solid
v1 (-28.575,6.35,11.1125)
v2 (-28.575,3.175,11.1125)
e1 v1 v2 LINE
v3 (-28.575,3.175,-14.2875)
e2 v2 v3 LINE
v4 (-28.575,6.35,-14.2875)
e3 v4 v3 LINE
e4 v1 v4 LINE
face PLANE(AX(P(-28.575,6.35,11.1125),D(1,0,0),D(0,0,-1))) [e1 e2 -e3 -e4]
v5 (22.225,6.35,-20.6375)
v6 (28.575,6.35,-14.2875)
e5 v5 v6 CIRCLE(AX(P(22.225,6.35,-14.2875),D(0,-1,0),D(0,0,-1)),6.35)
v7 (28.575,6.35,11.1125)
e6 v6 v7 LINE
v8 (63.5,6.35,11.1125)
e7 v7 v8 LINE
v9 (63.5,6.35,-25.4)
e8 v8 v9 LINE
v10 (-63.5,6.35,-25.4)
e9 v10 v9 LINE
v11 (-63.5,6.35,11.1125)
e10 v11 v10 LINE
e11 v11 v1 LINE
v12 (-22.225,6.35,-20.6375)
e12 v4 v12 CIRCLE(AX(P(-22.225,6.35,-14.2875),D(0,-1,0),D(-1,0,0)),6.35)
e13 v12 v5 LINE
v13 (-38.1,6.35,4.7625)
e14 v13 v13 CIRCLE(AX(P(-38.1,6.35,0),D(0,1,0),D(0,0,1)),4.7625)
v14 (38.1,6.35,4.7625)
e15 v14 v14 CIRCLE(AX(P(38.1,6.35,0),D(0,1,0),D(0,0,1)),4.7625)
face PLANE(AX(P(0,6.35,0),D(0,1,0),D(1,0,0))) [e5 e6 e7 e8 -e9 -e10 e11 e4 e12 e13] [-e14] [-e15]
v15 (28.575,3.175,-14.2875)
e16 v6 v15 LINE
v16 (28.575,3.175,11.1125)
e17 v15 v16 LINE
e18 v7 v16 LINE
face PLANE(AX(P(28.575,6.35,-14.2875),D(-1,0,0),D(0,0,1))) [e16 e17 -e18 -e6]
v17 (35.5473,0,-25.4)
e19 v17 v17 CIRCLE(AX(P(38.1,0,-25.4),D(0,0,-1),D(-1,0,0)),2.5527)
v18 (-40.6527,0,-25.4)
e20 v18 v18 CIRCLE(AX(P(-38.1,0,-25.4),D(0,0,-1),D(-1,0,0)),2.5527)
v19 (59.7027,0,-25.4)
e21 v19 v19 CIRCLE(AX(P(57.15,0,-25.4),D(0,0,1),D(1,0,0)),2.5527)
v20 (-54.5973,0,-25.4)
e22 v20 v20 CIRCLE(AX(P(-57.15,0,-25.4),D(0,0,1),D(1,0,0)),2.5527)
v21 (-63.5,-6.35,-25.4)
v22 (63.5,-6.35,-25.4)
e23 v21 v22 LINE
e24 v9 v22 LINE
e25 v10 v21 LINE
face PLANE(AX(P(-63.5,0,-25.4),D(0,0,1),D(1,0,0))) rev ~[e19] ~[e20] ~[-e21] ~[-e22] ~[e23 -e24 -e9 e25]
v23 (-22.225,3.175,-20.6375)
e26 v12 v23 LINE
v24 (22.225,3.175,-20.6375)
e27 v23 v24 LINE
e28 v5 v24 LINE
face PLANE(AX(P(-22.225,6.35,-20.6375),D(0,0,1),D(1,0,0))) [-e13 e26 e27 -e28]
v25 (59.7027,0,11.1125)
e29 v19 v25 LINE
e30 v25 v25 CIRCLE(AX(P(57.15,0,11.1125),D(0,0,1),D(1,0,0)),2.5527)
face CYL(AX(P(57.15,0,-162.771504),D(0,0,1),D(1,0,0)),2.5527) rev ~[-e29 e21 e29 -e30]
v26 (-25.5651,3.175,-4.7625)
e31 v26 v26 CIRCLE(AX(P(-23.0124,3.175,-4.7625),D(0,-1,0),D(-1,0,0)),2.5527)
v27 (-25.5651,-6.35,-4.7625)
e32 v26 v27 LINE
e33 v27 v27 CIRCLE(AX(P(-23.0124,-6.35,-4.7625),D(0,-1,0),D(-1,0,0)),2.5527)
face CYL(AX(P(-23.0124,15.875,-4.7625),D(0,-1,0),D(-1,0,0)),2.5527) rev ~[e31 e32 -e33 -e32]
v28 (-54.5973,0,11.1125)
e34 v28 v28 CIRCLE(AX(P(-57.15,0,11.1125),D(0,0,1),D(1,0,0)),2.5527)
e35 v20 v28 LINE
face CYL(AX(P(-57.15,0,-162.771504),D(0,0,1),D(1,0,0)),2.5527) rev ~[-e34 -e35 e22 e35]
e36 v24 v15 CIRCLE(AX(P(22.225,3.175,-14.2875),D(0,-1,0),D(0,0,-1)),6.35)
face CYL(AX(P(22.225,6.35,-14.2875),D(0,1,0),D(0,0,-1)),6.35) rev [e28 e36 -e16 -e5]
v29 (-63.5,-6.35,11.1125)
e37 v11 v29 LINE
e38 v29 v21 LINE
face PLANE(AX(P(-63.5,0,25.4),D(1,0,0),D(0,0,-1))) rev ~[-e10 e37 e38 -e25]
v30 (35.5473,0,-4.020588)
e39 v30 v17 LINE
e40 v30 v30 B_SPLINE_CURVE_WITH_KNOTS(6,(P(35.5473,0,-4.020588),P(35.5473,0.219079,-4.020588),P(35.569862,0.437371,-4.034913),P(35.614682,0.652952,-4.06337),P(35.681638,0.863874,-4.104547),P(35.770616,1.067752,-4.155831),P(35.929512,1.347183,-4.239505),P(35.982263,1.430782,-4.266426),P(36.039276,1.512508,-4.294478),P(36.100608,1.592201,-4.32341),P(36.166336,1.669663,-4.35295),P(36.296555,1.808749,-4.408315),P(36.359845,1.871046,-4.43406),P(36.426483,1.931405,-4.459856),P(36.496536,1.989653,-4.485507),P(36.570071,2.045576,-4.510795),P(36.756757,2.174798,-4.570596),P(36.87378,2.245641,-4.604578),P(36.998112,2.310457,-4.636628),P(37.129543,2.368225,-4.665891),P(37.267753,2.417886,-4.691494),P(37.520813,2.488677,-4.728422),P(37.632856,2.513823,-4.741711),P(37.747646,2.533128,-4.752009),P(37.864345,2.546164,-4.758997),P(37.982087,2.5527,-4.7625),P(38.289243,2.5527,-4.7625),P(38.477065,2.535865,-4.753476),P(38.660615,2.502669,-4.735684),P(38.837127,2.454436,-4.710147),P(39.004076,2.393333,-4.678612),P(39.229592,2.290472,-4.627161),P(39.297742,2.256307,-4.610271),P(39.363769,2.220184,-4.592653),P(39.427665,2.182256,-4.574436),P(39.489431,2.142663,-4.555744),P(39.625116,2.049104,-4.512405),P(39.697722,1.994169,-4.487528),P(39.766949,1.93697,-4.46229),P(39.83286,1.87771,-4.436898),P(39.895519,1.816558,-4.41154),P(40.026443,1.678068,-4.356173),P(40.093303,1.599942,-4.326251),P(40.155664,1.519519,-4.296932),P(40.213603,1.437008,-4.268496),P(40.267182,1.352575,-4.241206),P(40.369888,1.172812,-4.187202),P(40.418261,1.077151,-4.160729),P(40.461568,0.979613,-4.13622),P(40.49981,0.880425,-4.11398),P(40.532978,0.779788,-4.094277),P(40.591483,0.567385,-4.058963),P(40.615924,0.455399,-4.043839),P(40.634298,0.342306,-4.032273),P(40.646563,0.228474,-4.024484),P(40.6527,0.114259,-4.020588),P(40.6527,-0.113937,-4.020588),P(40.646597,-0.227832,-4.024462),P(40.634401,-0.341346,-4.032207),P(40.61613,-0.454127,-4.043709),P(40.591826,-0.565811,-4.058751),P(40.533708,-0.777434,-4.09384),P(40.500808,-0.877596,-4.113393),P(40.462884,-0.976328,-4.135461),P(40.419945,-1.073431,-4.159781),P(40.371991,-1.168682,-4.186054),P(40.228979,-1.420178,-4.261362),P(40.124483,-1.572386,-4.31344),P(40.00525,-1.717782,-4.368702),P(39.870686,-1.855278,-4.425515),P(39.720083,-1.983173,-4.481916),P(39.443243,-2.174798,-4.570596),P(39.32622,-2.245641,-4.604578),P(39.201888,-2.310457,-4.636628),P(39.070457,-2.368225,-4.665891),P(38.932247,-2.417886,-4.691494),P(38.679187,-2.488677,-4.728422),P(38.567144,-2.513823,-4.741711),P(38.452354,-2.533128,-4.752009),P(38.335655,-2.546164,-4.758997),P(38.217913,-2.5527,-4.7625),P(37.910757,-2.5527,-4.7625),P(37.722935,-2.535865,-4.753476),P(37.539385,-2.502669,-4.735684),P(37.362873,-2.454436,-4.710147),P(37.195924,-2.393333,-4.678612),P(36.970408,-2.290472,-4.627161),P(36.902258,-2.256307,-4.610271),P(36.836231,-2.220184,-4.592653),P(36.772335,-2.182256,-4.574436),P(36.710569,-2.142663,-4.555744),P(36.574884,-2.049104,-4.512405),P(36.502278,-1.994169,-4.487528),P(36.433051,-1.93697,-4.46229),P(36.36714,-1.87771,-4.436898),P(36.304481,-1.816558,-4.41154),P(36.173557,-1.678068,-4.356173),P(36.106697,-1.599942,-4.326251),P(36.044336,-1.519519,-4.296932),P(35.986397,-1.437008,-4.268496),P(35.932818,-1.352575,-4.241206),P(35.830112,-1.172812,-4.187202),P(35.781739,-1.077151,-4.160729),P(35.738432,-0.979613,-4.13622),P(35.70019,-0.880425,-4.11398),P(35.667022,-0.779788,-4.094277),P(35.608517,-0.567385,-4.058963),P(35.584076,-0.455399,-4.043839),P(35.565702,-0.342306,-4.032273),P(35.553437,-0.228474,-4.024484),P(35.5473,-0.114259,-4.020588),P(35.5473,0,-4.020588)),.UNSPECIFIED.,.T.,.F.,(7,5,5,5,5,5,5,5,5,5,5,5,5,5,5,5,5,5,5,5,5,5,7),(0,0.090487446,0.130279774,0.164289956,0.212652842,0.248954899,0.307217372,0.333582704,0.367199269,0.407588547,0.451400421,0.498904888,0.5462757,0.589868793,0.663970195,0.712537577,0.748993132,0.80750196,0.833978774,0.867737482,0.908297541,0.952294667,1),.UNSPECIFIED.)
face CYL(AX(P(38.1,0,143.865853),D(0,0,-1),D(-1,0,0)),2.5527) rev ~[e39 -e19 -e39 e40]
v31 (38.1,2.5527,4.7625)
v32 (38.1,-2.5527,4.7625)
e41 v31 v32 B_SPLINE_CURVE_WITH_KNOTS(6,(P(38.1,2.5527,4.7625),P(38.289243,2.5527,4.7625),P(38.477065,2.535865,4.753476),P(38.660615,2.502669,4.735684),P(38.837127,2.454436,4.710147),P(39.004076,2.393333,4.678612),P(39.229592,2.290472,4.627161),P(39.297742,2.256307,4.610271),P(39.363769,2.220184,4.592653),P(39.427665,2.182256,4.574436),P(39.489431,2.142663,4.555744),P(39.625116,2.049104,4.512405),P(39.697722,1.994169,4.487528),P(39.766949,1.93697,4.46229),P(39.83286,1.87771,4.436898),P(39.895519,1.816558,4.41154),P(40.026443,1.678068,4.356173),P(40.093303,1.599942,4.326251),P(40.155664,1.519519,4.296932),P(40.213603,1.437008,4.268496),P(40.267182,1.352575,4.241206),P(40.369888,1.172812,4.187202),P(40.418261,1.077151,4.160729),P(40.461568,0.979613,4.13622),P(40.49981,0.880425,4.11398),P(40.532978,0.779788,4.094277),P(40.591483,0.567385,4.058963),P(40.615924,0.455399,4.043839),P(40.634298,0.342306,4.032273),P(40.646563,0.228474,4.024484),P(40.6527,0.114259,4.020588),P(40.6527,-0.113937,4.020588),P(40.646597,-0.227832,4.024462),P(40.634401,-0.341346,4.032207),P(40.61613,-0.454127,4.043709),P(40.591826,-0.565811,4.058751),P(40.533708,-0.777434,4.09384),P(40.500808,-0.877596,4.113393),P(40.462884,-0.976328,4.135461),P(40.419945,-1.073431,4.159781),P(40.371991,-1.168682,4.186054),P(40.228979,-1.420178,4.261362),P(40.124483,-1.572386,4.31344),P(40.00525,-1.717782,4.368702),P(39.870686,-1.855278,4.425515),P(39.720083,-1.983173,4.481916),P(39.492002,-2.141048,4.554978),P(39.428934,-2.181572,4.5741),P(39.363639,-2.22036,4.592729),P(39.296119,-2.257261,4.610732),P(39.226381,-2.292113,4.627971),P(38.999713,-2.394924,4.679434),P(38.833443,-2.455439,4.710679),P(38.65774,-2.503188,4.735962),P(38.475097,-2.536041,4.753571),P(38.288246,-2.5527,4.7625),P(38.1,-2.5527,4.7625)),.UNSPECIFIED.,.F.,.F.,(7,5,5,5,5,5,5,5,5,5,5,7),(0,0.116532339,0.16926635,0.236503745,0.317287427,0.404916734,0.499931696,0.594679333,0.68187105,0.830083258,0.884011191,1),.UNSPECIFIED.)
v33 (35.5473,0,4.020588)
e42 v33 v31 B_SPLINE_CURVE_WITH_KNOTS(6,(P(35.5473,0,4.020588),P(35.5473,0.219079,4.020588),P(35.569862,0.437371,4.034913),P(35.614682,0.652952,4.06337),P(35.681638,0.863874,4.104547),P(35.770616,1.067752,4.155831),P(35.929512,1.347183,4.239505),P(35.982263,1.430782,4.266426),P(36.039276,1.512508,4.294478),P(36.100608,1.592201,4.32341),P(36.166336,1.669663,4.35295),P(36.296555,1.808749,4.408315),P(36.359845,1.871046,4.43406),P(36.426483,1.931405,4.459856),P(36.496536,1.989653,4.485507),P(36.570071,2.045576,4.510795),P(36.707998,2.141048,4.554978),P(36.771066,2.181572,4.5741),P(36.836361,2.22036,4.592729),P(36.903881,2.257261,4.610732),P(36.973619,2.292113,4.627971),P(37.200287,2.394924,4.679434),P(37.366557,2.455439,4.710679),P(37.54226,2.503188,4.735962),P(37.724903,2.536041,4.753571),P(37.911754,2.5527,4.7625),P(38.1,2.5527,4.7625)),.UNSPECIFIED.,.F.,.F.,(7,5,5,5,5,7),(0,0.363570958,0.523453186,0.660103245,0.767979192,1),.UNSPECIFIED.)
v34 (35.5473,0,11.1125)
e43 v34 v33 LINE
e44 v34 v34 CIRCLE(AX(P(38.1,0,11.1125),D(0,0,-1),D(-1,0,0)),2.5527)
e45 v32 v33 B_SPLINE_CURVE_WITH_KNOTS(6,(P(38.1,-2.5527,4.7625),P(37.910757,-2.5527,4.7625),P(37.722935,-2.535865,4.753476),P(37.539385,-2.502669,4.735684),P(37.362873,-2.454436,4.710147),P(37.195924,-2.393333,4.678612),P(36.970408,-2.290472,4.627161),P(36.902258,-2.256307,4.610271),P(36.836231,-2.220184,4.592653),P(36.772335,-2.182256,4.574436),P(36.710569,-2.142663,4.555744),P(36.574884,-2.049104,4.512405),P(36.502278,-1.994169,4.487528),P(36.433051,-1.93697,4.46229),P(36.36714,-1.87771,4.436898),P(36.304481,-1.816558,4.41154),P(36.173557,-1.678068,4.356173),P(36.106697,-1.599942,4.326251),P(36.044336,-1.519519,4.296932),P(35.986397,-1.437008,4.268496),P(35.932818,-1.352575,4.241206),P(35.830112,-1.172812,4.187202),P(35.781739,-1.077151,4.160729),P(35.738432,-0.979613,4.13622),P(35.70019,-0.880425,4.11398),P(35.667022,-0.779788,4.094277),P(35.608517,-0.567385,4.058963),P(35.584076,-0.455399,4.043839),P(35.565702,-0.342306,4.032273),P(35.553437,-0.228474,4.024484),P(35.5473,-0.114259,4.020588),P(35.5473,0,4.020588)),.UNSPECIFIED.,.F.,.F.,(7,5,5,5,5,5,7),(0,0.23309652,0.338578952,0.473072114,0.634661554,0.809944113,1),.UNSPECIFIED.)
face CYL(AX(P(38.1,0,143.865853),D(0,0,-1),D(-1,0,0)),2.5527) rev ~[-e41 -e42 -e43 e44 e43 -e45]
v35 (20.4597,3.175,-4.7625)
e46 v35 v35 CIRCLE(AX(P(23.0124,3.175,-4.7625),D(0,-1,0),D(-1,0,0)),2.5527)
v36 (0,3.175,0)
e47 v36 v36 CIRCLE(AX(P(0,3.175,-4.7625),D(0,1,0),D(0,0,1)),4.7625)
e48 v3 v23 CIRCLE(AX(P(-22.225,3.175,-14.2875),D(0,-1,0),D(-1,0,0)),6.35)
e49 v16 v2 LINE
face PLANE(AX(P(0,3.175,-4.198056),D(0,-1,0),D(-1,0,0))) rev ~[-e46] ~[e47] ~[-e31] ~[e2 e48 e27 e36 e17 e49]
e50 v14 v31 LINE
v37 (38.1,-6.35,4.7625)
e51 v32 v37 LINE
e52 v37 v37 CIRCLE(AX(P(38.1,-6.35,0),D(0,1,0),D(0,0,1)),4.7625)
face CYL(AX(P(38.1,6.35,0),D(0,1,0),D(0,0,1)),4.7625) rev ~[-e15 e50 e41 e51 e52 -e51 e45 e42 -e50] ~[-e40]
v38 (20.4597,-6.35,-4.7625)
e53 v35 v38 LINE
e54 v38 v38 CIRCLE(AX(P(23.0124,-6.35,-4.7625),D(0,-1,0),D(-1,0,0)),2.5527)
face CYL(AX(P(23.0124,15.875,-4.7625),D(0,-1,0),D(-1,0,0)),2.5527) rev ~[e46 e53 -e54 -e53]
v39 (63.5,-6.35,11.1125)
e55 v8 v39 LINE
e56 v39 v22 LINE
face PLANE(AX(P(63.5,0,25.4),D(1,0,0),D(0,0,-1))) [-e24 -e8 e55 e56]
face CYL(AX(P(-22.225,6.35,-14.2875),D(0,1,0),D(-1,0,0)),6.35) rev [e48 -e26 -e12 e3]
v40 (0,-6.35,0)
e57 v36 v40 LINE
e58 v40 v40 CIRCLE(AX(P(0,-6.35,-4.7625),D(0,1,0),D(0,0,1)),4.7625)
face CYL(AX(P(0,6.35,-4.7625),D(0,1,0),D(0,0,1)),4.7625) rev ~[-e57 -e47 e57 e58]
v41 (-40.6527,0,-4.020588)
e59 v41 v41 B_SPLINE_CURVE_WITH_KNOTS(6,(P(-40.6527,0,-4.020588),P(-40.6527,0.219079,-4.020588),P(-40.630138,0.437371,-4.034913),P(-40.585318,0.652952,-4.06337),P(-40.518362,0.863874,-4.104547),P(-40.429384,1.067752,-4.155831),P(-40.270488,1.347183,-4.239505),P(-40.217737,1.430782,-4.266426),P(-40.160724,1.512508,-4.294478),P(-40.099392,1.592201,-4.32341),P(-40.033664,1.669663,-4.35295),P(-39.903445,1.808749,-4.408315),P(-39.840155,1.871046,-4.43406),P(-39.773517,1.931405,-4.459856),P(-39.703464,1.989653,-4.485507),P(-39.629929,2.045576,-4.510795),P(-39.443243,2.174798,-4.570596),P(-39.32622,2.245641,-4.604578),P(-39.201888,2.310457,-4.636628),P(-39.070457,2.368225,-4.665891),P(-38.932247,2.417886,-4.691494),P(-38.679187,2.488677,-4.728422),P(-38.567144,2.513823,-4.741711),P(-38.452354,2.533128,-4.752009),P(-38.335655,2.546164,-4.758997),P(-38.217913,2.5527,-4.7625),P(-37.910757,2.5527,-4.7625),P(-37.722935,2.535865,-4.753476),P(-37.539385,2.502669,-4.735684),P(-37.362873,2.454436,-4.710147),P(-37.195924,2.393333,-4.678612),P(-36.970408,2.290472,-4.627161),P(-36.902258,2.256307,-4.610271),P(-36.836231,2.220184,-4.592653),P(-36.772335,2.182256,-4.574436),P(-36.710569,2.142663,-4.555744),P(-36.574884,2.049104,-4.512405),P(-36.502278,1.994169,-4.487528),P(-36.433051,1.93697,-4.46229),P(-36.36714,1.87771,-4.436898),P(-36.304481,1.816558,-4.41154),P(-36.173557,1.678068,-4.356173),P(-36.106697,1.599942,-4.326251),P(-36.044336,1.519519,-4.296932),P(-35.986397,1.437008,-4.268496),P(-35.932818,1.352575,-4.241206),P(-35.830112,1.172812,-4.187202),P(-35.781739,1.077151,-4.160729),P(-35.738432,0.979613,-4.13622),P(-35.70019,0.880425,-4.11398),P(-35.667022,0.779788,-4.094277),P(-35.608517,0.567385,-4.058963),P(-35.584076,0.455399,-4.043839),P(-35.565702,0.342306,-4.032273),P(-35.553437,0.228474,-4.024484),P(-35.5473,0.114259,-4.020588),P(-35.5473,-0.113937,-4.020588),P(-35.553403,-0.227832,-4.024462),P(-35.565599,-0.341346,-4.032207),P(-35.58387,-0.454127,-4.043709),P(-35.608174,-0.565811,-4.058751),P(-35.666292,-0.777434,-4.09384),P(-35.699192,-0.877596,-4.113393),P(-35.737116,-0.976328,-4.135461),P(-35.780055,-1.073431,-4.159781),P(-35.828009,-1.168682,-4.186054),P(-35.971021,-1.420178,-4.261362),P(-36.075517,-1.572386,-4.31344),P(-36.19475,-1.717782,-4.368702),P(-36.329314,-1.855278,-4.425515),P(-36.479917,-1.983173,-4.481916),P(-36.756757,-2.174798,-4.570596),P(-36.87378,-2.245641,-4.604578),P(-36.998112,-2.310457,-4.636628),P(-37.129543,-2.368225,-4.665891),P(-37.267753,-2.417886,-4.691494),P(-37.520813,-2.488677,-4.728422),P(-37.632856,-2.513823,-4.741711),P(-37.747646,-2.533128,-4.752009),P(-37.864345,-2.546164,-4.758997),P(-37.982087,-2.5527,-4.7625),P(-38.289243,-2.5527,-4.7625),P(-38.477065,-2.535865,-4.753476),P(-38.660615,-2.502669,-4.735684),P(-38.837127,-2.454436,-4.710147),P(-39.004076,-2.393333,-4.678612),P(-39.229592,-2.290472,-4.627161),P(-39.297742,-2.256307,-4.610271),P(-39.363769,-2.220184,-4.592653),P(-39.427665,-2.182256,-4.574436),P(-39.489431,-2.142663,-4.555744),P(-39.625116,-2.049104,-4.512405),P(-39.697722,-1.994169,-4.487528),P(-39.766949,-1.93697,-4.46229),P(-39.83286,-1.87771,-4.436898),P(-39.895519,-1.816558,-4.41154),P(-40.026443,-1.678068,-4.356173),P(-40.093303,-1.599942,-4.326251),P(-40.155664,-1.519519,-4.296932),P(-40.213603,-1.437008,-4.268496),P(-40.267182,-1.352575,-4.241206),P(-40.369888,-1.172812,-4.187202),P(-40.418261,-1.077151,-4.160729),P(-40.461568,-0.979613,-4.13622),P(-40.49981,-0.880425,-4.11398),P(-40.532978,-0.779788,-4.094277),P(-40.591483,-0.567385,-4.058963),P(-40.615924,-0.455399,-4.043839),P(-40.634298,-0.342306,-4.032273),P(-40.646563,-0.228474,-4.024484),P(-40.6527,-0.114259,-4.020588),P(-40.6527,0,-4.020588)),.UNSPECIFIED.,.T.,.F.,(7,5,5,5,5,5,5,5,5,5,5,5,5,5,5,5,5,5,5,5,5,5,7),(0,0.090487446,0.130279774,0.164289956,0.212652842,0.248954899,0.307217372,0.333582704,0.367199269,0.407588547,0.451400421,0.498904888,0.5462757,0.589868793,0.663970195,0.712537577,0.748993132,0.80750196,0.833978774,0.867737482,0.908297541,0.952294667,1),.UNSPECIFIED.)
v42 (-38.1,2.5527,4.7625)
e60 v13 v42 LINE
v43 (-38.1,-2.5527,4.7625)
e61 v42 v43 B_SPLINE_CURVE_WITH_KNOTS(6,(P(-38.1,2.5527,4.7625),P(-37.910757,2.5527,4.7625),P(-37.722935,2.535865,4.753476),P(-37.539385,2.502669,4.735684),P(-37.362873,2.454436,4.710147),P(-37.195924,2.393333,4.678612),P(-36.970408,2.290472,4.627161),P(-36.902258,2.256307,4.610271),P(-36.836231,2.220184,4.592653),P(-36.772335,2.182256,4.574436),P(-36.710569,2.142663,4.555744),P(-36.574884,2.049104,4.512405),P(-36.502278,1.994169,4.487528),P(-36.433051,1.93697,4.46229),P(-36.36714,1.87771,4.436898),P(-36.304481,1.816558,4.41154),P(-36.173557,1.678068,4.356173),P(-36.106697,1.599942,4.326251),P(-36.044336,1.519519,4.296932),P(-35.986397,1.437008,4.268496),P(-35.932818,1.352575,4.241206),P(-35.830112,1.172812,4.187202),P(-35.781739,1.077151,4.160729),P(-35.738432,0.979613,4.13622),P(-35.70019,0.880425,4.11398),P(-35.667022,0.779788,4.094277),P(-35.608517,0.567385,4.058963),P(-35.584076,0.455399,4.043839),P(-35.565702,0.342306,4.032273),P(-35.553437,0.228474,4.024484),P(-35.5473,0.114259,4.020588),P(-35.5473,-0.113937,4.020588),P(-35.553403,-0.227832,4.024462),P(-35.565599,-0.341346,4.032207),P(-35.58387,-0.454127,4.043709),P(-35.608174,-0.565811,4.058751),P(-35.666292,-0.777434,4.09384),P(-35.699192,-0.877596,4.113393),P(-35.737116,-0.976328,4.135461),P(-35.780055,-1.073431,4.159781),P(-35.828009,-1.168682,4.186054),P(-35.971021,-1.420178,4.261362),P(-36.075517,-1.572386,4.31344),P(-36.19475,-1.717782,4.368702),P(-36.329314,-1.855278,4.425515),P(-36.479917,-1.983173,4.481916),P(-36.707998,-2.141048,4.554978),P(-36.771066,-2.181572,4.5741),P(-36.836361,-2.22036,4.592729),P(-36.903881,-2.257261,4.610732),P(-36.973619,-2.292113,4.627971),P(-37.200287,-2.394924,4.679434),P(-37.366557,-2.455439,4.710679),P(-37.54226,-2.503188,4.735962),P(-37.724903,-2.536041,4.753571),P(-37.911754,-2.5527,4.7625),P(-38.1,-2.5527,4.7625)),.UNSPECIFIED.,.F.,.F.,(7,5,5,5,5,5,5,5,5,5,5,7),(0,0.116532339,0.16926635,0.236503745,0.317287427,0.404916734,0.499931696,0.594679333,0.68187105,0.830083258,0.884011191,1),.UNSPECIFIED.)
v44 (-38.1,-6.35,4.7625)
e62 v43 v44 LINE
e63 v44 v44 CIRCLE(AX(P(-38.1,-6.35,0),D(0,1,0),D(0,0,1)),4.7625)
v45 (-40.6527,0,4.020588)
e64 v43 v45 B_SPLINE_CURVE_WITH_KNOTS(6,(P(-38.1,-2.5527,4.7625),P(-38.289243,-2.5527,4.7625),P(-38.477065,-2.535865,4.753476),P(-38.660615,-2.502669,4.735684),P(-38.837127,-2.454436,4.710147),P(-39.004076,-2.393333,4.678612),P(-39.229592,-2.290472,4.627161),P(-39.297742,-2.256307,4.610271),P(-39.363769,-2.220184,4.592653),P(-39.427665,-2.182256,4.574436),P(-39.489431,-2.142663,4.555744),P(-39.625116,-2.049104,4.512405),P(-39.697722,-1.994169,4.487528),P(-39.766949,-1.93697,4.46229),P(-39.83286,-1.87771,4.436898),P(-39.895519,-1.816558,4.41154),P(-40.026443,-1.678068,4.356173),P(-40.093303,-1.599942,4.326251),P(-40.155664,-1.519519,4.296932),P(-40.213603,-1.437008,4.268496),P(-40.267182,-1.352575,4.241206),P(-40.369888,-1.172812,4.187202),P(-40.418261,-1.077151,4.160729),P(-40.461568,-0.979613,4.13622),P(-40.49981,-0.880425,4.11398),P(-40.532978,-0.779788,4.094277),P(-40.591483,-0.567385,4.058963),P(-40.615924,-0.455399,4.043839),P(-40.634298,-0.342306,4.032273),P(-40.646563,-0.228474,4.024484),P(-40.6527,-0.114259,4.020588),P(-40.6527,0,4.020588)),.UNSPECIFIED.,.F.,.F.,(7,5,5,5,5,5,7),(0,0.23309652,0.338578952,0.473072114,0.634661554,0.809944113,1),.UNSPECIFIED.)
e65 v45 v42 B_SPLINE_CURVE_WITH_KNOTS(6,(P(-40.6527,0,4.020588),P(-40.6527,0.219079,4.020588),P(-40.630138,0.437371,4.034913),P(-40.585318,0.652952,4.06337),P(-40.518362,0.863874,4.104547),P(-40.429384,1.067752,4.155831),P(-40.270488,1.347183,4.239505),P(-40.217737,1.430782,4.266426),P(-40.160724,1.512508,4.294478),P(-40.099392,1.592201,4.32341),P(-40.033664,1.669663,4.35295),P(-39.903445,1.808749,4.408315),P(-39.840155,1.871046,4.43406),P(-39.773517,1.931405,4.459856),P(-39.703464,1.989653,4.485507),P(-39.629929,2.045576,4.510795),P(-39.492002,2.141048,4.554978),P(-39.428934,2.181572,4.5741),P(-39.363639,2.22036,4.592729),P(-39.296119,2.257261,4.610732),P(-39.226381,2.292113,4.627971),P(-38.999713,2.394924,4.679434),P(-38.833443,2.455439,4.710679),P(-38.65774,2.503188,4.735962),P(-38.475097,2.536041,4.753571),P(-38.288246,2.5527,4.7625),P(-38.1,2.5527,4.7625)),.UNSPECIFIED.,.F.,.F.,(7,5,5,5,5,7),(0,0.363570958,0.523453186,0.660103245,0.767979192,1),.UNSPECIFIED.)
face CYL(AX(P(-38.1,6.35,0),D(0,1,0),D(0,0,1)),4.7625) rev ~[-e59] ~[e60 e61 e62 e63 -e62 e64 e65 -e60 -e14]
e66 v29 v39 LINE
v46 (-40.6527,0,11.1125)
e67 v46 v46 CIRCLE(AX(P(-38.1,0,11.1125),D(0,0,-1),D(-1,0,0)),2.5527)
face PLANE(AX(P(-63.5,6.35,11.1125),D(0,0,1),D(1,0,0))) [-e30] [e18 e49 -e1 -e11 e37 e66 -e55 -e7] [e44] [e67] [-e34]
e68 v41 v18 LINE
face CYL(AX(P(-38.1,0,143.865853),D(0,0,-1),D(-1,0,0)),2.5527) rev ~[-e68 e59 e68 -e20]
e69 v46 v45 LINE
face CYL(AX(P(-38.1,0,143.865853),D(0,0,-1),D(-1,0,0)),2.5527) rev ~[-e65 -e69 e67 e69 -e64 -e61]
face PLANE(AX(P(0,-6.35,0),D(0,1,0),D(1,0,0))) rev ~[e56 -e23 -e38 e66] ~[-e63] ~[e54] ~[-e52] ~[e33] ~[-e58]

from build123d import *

# Parameters (mm, degrees)
SKETCH1_W                         = 127
SKETCH1_H                         = 50.8
BOSS_EXTRUDE1_DEPTH               = 6.35
TAPPED_HOLE_FOR_10_32_HELICOIL1_D = 5.1054
SKETCH7_W                         = 127
SKETCH7_H                         = 14.2875
CUT_EXTRUDE2_DEPTH                = 70.560764803
TAPPED_HOLE_FOR_10_32_HELICOIL3_D = 5.1054
SKETCH4_R                         = 4.7625
CUT_EXTRUDE1_DEPTH                = 70.560764803
CUT_EXTRUDE4_DEPTH                = 3.175
F_10_CLEARANCE_HOLE3_D            = 5.1054
F_10_CLEARANCE_HOLE3_DEPTH        = 12.7
F_10_CLEARANCE_HOLE3_TIP          = 1.533816902


with BuildPart() as part:
    # Sketch1 → Boss-Extrude1 (new, symmetric)
    with BuildSketch(Plane(origin=(0, 0, 0), x_dir=(1, 0, 0), z_dir=(0, 1, 0))):
        Rectangle(SKETCH1_W, SKETCH1_H)
    extrude(amount=BOSS_EXTRUDE1_DEPTH, both=True)

    # Tapped Hole for #10-32 Helicoil1 (through all)
    with Locations(Plane(origin=(0, 0, -25.4), x_dir=(-1, 0, 0), z_dir=(0, 0, -1))):
        with Locations((-57.15, 0), (57.15, 0)):
            Hole(TAPPED_HOLE_FOR_10_32_HELICOIL1_D / 2)

    # Sketch7 → Cut-Extrude2 (cut, through all)
    with BuildSketch(Plane(origin=(0, 6.35, 0), x_dir=(1, 0, 0), z_dir=(0, 1, 0))):
        with Locations((0, -18.25625)):
            Rectangle(SKETCH7_W, SKETCH7_H)
    extrude(amount=-CUT_EXTRUDE2_DEPTH, mode=Mode.SUBTRACT)

    # Tapped Hole for #10-32 Helicoil3 (through all)
    with Locations(Plane.XY.offset(11.1125)):
        with Locations((-38.1, 0), (38.1, 0)):
            Hole(TAPPED_HOLE_FOR_10_32_HELICOIL3_D / 2)

    # Sketch4 → Cut-Extrude1 (cut, through all)
    with BuildSketch(Plane(origin=(0, 6.35, 0), x_dir=(1, 0, 0), z_dir=(0, 1, 0))):
        with Locations(Location((-38.1, 0, 0), (0, 0, 270))):
            Circle(SKETCH4_R)
        with Locations(Location((38.1, 0, 0), (0, 0, 270))):
            Circle(SKETCH4_R)
        with Locations(Location((0, 4.7625, 0), (0, 0, 270))):
            Circle(SKETCH4_R)
    extrude(amount=-CUT_EXTRUDE1_DEPTH, mode=Mode.SUBTRACT)

    # Sketch11 → Cut-Extrude4 (cut)
    with BuildSketch(Plane(origin=(0, 6.35, 0), x_dir=(1, 0, 0), z_dir=(0, 1, 0))):
        with BuildLine():
            Line((-22.225, 20.6375), (22.225, 20.6375))
            ThreePointArc((22.225, 20.6375), (26.715128061, 18.777628061), (28.575, 14.2875))
            Line((28.575, 14.2875), (28.575, -11.1125))
            Line((28.575, -11.1125), (-28.575, -11.1125))
            Line((-28.575, -11.1125), (-28.575, 14.2875))
            ThreePointArc((-28.575, 14.2875), (-26.715128061, 18.777628061), (-22.225, 20.6375))
        make_face()
    extrude(amount=-CUT_EXTRUDE4_DEPTH, mode=Mode.SUBTRACT)

    # #10 Clearance Hole3
    with Locations(Plane(origin=(0, 3.175, 0), x_dir=(1, 0, 0), z_dir=(0, 1, 0))):
        with Locations((-23.0124, 4.7625), (23.0124, 4.7625)):
            Hole(F_10_CLEARANCE_HOLE3_D / 2, depth=F_10_CLEARANCE_HOLE3_DEPTH)
            with Locations((0, 0, -(F_10_CLEARANCE_HOLE3_DEPTH + F_10_CLEARANCE_HOLE3_TIP / 2))):  # 118° drill point
                Cone(0, F_10_CLEARANCE_HOLE3_D / 2, F_10_CLEARANCE_HOLE3_TIP, mode=Mode.SUBTRACT)


solid = part.part
